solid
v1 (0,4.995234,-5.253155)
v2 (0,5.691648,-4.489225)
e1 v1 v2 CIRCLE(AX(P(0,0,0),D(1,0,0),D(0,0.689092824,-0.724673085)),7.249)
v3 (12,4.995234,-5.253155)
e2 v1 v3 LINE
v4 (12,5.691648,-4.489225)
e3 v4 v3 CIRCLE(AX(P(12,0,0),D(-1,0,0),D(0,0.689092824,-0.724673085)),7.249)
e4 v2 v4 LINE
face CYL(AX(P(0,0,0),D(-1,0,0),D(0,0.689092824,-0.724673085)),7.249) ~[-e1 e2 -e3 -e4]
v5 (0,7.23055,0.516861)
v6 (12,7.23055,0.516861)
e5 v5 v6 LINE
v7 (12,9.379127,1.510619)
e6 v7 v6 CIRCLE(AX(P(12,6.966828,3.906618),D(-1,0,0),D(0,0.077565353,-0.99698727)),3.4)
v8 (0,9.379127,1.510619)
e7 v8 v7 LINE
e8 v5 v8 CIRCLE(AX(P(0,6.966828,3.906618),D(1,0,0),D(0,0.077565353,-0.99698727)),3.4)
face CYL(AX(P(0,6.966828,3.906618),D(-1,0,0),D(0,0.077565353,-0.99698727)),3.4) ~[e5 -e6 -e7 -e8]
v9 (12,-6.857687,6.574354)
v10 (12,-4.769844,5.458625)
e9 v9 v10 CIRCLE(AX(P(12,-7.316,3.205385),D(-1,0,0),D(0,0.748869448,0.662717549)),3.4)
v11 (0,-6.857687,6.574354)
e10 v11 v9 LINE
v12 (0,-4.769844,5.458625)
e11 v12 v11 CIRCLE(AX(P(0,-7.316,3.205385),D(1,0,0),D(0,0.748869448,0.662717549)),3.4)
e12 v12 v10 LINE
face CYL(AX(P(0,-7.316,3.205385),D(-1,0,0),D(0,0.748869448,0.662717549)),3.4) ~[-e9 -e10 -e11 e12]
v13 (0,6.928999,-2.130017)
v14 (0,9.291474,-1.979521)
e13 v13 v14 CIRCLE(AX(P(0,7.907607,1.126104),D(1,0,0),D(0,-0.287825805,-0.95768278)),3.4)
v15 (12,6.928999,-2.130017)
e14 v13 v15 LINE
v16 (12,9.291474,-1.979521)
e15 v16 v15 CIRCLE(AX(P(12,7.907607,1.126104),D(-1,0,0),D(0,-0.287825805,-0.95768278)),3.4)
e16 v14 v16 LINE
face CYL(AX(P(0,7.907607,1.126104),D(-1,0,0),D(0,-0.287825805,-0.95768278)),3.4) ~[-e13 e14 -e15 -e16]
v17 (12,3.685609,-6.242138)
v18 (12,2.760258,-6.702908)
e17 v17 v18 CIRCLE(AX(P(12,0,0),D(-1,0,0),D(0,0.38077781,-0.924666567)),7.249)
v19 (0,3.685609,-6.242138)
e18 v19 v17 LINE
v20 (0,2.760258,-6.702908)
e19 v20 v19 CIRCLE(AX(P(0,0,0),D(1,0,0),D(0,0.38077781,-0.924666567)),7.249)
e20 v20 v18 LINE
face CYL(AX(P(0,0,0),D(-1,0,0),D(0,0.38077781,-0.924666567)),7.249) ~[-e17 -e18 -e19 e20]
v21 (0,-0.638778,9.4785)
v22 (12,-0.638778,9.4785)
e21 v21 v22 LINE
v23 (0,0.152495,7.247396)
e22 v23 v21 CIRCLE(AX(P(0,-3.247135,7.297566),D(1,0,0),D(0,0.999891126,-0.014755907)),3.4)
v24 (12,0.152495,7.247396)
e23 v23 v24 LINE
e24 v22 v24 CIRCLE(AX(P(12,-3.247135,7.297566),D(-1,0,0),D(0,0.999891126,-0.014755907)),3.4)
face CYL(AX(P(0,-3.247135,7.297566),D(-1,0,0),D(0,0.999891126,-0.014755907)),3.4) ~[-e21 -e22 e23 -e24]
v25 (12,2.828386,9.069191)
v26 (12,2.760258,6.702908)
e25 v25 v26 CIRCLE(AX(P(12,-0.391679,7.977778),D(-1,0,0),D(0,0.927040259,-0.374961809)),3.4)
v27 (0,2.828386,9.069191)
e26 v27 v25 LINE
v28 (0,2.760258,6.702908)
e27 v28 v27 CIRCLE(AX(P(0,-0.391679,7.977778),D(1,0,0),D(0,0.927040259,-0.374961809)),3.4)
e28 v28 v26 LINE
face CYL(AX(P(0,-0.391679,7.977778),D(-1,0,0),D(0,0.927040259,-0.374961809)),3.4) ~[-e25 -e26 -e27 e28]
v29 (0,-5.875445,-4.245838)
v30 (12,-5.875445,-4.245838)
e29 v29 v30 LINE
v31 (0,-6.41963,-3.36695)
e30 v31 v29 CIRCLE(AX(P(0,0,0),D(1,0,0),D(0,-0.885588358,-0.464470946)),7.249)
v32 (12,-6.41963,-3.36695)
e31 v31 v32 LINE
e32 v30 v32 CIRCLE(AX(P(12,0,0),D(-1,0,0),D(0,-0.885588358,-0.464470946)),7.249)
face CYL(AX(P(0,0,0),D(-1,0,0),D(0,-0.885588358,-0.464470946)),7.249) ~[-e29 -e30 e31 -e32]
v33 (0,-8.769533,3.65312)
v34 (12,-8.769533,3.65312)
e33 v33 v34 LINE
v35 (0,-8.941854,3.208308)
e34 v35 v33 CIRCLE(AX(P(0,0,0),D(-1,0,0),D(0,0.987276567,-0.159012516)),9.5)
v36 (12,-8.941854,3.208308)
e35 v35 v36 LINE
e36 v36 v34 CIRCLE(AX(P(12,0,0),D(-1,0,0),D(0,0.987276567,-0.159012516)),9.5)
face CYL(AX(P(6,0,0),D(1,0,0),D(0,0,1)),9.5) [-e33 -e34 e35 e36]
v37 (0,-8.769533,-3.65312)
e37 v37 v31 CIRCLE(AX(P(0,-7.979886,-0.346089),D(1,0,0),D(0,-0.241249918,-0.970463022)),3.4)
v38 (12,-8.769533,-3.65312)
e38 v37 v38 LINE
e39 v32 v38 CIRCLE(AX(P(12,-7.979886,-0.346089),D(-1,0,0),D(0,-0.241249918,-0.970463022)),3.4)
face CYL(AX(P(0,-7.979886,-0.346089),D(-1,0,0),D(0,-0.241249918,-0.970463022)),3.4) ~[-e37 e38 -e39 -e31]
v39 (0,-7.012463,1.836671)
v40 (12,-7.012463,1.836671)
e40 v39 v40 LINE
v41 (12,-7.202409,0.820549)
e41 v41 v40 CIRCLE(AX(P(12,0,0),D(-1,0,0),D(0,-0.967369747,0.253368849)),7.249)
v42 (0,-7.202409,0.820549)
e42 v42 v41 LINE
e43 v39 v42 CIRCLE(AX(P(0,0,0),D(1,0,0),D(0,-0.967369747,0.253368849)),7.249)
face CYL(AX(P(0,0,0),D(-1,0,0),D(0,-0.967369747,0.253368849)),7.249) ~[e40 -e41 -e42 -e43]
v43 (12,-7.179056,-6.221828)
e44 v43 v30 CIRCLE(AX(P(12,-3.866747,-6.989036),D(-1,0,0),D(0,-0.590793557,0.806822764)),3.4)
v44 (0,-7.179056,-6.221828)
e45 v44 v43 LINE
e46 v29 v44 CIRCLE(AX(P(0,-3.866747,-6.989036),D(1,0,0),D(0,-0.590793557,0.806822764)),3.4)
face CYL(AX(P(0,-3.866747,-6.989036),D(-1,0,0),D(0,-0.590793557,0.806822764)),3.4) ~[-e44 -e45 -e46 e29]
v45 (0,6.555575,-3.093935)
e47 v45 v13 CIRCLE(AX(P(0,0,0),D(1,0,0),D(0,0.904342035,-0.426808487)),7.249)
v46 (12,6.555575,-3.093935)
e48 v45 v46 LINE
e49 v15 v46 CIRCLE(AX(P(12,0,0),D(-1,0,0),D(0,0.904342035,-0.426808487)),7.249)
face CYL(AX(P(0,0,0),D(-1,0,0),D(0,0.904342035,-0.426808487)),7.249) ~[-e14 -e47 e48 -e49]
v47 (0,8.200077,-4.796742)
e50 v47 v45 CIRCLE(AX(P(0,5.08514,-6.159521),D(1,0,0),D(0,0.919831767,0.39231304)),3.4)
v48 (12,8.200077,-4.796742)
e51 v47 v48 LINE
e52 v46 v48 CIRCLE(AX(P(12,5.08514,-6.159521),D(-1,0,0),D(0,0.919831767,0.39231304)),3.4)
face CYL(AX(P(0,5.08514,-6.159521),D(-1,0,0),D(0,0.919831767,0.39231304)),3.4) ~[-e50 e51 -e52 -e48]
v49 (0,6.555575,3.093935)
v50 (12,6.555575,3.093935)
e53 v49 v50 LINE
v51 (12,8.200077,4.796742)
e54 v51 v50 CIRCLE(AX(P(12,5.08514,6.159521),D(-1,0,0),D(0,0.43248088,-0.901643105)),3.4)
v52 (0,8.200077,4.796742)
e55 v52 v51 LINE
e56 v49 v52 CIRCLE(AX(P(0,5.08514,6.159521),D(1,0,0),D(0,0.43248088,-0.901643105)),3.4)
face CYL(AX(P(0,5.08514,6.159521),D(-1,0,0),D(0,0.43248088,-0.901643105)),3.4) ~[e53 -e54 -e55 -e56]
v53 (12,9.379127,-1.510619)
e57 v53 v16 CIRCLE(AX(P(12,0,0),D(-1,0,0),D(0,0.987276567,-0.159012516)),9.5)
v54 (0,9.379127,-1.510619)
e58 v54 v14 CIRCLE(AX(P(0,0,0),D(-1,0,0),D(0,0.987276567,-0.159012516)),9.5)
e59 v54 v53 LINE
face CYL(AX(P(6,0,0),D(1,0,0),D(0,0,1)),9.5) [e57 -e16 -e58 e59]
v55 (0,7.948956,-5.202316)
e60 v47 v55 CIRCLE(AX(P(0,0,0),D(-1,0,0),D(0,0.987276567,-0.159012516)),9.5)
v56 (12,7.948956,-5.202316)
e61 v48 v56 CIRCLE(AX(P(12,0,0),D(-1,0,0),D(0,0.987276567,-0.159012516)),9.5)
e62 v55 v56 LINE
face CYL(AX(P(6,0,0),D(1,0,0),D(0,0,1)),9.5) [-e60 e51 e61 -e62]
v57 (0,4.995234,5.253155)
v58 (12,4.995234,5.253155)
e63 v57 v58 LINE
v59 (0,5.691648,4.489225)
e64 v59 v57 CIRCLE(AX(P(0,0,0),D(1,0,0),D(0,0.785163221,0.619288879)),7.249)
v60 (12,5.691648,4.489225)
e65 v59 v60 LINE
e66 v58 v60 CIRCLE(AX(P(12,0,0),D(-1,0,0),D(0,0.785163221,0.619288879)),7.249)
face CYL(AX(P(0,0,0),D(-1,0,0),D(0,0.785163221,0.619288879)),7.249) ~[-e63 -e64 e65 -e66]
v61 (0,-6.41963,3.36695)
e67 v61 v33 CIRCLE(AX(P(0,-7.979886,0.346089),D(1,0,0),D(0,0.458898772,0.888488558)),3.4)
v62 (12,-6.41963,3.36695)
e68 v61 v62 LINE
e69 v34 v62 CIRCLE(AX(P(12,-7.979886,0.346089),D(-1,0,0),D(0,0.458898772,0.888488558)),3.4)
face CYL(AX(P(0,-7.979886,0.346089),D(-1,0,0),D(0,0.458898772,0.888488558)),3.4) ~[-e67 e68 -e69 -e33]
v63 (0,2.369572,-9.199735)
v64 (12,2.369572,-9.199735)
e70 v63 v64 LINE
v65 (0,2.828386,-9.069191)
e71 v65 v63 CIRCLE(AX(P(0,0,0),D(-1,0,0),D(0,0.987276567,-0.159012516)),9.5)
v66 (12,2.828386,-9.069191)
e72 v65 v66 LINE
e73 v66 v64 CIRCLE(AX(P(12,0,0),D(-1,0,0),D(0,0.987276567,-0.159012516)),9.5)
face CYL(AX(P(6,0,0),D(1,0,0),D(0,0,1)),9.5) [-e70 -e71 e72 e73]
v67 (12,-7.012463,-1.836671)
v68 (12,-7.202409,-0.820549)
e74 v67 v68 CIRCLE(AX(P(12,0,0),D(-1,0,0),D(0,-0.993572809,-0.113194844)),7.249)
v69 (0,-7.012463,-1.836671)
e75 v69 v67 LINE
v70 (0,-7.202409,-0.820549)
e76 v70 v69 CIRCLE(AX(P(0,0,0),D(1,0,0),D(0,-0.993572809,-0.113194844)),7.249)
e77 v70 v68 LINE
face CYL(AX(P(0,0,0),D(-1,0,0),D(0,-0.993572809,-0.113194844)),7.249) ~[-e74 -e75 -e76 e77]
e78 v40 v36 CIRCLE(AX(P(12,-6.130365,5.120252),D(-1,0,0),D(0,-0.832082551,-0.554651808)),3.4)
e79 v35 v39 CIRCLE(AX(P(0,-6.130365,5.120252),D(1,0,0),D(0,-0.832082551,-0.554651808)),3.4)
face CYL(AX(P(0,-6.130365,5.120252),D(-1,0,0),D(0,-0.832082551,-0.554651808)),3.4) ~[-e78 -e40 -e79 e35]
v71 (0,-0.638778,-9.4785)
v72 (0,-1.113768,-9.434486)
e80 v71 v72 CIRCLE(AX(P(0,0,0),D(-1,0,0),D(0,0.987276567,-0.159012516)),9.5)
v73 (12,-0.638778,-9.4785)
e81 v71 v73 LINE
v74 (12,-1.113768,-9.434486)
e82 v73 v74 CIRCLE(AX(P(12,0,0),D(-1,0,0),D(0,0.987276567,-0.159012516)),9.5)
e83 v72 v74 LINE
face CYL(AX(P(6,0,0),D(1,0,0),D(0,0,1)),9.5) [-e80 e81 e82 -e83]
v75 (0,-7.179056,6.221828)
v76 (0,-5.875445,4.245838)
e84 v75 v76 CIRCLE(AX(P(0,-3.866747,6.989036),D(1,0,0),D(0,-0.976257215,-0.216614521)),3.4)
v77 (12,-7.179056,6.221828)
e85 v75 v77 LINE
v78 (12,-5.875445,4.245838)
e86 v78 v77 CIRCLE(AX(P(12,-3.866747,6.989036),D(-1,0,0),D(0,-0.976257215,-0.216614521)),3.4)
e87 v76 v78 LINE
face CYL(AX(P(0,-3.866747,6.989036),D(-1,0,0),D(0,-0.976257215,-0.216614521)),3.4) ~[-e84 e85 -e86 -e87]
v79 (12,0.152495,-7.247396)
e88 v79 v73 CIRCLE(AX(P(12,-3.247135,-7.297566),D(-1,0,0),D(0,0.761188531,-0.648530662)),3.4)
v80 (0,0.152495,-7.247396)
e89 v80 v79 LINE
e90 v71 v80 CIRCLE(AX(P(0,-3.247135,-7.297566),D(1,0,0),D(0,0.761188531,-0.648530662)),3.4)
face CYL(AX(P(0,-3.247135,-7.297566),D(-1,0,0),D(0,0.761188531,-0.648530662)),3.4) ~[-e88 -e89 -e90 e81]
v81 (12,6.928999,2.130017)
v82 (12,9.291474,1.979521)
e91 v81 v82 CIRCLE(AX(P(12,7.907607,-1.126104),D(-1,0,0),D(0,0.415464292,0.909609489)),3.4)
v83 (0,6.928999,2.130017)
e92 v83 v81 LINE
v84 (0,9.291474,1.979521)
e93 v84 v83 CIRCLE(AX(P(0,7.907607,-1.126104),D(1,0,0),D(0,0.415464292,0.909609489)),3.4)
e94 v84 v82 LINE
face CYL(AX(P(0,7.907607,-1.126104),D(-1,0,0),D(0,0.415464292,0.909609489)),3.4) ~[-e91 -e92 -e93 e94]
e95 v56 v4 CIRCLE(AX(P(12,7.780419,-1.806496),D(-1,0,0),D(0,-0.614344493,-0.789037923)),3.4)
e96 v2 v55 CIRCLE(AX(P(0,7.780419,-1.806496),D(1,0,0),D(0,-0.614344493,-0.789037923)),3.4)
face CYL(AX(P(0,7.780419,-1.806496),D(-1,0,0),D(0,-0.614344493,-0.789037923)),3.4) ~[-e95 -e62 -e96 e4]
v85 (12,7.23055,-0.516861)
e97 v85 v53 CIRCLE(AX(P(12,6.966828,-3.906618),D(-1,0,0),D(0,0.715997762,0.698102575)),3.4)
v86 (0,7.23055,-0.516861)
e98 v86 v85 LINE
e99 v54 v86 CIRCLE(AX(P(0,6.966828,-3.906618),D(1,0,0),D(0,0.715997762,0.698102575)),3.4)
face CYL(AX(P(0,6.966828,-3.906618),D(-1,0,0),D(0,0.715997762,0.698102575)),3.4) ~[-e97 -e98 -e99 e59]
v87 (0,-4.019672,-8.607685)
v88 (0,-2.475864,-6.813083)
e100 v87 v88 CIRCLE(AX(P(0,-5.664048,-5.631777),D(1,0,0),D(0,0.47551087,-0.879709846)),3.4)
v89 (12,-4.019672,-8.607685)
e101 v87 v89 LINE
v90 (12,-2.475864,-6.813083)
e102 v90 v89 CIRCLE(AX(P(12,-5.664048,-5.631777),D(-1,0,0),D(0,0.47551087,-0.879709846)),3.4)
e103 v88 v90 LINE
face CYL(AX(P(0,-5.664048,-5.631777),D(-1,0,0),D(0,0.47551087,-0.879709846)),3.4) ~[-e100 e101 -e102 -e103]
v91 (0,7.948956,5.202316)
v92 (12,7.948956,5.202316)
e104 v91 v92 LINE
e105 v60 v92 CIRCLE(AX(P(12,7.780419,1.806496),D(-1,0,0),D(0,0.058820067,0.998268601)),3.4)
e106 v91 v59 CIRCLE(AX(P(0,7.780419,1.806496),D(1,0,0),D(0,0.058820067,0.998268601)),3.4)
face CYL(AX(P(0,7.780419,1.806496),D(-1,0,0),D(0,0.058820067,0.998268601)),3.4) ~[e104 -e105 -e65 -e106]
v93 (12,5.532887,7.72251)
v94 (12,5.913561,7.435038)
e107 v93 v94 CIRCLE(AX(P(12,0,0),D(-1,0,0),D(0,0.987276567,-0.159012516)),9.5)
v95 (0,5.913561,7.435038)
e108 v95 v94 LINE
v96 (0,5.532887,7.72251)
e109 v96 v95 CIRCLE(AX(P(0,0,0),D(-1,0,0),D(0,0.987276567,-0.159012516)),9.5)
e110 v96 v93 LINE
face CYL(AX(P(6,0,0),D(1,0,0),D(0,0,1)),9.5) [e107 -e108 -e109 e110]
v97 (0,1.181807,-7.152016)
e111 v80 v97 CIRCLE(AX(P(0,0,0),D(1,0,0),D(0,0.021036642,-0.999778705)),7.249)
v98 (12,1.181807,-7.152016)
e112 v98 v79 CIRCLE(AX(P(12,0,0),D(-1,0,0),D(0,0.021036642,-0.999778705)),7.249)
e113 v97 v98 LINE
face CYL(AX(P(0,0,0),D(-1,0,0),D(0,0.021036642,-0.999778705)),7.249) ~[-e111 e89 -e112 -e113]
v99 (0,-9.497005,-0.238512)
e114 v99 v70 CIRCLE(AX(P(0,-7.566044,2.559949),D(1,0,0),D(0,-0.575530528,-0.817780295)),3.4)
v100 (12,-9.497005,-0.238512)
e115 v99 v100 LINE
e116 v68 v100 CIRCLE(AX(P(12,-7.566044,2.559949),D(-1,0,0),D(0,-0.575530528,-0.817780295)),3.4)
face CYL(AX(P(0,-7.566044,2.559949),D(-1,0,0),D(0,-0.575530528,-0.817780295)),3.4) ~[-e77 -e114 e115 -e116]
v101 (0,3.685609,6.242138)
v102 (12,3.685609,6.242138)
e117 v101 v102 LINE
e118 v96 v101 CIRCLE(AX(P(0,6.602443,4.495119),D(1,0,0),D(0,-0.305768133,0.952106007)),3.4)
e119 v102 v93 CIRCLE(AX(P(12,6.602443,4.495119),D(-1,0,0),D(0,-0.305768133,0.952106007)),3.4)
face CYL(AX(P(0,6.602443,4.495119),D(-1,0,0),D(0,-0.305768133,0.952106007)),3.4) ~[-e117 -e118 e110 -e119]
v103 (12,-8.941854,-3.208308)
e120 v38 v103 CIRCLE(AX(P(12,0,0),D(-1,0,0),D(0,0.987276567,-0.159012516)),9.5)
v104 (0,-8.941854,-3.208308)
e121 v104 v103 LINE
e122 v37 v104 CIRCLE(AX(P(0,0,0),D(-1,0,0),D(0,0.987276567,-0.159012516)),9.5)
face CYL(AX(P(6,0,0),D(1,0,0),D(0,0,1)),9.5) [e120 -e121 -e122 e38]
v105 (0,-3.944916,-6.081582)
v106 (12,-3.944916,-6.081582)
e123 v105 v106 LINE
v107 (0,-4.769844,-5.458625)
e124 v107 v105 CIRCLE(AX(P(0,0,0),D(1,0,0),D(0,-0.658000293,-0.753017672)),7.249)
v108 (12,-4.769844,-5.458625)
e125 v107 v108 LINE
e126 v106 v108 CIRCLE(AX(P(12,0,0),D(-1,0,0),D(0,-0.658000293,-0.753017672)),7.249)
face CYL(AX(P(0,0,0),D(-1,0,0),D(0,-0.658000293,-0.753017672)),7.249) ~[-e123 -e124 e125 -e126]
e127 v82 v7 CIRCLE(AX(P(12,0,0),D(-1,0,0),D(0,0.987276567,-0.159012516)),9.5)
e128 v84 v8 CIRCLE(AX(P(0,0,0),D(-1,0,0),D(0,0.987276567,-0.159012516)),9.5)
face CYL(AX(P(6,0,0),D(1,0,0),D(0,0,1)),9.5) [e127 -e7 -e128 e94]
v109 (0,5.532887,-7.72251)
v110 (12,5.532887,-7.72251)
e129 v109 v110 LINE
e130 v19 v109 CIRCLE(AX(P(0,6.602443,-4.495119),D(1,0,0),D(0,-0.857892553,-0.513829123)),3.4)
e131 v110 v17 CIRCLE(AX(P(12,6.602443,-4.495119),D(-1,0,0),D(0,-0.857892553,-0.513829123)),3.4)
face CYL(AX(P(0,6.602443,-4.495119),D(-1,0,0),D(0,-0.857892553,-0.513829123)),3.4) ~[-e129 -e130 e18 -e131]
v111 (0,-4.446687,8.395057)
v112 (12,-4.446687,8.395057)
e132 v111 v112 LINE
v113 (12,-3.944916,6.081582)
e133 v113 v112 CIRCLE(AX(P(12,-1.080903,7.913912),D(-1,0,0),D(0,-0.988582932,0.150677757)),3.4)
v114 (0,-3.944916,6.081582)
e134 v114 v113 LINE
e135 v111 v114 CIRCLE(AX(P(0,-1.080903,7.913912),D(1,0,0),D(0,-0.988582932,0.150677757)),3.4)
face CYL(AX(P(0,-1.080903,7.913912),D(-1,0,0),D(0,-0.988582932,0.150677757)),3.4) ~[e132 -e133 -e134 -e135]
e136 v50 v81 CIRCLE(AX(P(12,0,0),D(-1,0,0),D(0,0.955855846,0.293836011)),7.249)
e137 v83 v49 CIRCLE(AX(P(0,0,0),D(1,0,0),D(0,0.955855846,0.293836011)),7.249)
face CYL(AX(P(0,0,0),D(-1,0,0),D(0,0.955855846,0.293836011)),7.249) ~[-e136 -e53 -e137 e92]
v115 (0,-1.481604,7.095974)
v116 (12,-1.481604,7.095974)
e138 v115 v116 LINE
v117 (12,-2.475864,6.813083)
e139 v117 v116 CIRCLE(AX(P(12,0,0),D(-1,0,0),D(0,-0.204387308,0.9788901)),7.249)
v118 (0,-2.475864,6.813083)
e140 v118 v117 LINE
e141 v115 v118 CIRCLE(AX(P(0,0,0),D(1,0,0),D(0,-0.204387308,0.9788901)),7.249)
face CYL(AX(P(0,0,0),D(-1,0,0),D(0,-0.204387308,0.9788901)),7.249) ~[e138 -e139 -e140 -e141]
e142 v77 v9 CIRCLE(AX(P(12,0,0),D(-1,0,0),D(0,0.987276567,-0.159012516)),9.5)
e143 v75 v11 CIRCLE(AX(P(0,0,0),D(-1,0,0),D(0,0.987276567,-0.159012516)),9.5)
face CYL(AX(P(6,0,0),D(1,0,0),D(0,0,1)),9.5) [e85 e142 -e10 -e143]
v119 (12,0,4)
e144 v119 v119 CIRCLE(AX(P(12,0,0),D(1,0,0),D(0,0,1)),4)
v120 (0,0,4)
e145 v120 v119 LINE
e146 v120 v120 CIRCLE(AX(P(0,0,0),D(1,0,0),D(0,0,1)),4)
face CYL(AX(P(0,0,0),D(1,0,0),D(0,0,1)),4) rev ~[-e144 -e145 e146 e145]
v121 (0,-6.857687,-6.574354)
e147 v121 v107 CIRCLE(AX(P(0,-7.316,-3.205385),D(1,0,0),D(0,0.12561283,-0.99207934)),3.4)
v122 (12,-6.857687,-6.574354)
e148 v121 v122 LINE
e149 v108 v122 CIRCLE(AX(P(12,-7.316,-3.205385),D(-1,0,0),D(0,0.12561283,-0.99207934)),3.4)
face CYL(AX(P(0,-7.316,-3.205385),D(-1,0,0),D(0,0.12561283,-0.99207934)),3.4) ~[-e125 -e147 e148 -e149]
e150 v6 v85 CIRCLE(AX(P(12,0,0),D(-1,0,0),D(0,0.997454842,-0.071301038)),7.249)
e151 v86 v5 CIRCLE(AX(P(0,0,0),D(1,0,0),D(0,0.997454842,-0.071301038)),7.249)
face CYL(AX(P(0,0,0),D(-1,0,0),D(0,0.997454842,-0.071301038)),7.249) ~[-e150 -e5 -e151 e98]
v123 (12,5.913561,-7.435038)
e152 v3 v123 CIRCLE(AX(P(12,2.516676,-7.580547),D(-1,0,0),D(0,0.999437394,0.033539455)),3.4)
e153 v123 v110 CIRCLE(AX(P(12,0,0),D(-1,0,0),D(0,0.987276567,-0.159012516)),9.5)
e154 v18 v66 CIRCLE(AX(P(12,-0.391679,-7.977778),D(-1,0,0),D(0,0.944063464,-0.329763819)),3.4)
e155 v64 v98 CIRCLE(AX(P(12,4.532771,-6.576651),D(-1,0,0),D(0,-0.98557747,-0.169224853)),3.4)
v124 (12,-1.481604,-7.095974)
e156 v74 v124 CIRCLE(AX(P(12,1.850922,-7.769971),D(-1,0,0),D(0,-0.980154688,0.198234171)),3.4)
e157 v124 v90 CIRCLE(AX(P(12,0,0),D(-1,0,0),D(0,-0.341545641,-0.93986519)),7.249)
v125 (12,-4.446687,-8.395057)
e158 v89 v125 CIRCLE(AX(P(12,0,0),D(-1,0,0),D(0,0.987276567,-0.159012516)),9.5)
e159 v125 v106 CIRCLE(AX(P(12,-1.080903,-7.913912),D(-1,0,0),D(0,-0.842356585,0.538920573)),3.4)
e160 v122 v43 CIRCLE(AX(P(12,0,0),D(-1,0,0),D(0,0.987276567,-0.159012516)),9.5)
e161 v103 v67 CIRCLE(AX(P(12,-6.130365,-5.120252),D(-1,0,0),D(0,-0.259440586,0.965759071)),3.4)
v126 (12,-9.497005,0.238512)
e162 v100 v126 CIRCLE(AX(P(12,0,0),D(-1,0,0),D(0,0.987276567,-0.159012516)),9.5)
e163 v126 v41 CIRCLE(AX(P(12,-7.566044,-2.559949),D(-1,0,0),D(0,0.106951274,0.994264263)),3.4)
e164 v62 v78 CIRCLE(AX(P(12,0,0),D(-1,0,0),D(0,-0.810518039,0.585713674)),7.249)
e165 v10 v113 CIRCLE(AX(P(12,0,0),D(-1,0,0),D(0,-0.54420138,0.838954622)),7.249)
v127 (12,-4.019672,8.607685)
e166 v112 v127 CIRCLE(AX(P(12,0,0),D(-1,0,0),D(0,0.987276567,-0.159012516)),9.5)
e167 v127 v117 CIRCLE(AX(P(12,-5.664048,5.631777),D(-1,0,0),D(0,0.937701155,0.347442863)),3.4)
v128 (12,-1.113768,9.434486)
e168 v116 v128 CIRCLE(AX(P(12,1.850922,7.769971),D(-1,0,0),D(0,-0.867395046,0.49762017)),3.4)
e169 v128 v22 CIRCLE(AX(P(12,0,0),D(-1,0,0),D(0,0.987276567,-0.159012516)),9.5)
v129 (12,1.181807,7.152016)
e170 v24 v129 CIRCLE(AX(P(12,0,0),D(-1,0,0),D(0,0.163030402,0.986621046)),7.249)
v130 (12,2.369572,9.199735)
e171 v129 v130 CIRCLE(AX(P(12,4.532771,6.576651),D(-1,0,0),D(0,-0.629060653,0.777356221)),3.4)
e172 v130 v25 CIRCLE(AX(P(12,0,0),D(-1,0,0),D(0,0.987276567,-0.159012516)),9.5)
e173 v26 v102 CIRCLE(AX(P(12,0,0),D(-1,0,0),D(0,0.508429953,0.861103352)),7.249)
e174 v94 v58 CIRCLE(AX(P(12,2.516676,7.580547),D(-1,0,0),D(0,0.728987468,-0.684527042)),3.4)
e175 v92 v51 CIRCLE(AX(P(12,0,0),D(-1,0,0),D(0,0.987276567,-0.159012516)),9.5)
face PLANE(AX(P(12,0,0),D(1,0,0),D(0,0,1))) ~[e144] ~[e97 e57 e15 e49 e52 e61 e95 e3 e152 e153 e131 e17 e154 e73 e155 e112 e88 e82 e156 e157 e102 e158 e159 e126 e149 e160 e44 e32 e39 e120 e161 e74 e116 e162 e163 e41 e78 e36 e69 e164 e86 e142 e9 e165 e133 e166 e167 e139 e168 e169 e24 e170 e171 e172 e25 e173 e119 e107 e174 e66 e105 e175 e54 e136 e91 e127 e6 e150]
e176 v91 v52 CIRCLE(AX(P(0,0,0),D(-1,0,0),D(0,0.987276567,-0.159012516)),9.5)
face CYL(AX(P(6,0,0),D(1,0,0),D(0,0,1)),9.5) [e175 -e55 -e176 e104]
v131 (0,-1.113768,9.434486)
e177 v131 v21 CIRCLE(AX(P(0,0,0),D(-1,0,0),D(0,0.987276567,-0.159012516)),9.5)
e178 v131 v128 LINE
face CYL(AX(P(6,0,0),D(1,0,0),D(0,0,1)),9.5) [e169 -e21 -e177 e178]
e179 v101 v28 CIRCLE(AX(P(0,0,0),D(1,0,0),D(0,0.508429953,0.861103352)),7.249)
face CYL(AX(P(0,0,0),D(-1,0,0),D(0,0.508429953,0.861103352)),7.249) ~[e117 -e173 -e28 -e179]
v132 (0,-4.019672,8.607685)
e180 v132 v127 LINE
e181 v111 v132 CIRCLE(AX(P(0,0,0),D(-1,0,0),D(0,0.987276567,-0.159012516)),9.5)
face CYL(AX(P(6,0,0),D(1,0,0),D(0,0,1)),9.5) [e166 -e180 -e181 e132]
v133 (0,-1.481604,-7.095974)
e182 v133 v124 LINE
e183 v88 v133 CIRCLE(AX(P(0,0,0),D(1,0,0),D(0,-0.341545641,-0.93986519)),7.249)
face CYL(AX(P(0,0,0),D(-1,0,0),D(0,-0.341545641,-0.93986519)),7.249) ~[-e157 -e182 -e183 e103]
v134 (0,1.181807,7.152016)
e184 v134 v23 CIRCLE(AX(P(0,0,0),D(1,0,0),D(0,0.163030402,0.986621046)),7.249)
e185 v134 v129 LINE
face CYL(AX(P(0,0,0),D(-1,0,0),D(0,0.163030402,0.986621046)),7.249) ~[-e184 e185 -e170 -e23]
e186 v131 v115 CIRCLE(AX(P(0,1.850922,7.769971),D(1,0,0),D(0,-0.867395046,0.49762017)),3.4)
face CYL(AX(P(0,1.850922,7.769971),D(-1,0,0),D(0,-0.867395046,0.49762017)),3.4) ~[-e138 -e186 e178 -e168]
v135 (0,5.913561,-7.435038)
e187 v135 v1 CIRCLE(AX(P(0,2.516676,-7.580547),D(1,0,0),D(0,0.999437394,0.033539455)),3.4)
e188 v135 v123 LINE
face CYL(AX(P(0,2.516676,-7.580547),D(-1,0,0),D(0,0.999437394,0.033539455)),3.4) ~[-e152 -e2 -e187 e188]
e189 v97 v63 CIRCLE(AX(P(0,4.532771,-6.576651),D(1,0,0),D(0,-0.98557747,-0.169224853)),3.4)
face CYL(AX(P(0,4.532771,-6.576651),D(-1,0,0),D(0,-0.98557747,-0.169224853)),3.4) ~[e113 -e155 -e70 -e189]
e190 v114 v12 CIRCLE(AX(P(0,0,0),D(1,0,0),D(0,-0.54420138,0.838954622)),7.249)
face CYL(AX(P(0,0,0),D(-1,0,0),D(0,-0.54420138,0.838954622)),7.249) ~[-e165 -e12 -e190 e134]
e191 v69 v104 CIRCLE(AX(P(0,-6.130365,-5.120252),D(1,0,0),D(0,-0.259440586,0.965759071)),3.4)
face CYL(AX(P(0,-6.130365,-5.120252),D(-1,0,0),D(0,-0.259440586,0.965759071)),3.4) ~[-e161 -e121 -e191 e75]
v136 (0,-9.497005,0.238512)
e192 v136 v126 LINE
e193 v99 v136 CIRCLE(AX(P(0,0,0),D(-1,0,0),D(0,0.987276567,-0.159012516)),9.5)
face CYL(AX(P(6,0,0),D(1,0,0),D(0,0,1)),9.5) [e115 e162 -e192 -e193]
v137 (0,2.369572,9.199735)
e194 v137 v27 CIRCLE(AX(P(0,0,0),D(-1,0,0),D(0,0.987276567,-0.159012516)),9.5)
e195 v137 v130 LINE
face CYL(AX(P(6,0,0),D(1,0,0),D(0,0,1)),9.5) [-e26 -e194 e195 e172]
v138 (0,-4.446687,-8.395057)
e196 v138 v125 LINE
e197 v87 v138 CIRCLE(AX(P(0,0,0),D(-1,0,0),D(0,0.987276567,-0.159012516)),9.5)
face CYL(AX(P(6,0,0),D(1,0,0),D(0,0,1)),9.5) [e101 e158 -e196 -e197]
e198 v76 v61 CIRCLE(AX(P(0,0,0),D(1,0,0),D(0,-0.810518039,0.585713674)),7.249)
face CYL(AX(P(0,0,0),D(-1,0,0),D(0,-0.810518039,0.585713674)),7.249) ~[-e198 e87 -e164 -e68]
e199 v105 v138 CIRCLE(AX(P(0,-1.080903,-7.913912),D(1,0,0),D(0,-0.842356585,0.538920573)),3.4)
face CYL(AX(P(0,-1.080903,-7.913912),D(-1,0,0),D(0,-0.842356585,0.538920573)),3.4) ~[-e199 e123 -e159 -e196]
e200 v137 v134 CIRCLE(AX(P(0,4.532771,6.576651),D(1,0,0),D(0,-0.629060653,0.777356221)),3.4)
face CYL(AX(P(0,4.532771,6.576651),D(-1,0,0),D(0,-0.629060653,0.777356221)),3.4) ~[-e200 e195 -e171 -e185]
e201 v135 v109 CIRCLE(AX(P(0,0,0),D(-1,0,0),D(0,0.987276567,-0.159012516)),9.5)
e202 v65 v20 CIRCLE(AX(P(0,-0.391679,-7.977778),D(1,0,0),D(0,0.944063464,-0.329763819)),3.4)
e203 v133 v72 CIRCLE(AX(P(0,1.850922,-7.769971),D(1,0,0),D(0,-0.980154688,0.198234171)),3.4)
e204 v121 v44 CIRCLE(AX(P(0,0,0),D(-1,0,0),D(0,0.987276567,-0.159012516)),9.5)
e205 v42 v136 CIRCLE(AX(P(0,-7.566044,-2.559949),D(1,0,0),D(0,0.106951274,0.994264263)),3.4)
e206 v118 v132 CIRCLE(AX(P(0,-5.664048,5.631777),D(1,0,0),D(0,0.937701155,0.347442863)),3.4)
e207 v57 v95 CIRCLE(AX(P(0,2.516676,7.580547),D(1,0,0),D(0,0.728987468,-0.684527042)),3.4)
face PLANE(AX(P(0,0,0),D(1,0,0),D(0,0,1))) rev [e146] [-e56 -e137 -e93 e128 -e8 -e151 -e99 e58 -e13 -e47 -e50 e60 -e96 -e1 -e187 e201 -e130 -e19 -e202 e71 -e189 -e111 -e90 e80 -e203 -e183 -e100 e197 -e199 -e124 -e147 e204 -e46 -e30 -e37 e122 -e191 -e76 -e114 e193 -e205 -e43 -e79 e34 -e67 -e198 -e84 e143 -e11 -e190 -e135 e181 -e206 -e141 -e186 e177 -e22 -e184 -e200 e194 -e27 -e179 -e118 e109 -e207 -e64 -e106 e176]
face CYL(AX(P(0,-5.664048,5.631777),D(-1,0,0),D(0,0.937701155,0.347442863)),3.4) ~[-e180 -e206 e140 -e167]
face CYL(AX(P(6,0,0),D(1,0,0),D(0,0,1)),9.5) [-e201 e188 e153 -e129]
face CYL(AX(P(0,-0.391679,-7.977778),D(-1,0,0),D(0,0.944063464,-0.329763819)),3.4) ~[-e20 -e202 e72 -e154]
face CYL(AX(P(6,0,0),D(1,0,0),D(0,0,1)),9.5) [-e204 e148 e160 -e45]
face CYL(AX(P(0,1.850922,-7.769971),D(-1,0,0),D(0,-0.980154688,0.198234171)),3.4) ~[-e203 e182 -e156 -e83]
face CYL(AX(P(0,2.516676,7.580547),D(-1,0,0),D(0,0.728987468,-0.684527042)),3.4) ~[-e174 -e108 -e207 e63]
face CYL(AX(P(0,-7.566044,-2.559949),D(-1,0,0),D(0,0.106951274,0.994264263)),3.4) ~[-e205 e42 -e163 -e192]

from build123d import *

# Parameters (mm, degrees)
BASPROSKE_W     = 12
BASPROSKE_H     = 9.5
TOOTHCUT_DEPTH  = 19.013883535
TEETHCUTS_COUNT = 17
TEETHCUTS_ANGLE = 338.823529412
BORSKE_R        = 4
BORE_DEPTH      = 50.0000508


with BuildPart() as part:
    # BasProSke → Base-Revolve (revolve)
    with BuildSketch(Plane(origin=(0, 0, 0), x_dir=(1, 0, 0), z_dir=(0, 1, 0)), mode=Mode.PRIVATE) as base_revolve_sk:
        with Locations((6, 4.75)):
            Rectangle(BASPROSKE_W, BASPROSKE_H)
    revolve(base_revolve_sk.sketch.rotate(Axis((-10, 0, 0), (1, 0, 0)), 180), axis=Axis((-10, 0, 0), (1, 0, 0)))

    # TooCutSke → ToothCut (cut, through all)
    with BuildSketch(Plane(origin=(0, 0, 0), x_dir=(0, 0, -1), z_dir=(1, 0, 0))):
        with BuildLine():
            ThreePointArc((0.516861231, 7.23055015), (0, 7.249), (-0.516861231, 7.23055015))
            ThreePointArc((-0.516861231, 7.23055015), (-0.827352654, 8.408398361), (-1.533069197, 9.401220346))
            ThreePointArc((-1.533069197, 9.401220346), (0, 9.5254), (1.533069197, 9.401220346))
            ThreePointArc((1.533069197, 9.401220346), (0.827352654, 8.408398361), (0.516861231, 7.23055015))
        make_face()
    toothcut = extrude(amount=TOOTHCUT_DEPTH, mode=Mode.SUBTRACT)

    # TeethCuts: ToothCut ×17 about axis
    teethcuts_axis = Axis((-10, 0, 0), (1, 0, 0))
    for i in range(1, TEETHCUTS_COUNT):
        add(toothcut.rotate(teethcuts_axis, i * TEETHCUTS_ANGLE / (TEETHCUTS_COUNT - 1)), mode=Mode.SUBTRACT)

    # BorSke → Bore (cut, symmetric)
    with BuildSketch(Plane(origin=(0, 0, 0), x_dir=(0, 0, -1), z_dir=(1, 0, 0))):
        with Locations(Location((0, 0, 0), (0, 0, 180))):
            Circle(BORSKE_R)
    extrude(amount=BORE_DEPTH, both=True, mode=Mode.SUBTRACT)


solid = part.part
